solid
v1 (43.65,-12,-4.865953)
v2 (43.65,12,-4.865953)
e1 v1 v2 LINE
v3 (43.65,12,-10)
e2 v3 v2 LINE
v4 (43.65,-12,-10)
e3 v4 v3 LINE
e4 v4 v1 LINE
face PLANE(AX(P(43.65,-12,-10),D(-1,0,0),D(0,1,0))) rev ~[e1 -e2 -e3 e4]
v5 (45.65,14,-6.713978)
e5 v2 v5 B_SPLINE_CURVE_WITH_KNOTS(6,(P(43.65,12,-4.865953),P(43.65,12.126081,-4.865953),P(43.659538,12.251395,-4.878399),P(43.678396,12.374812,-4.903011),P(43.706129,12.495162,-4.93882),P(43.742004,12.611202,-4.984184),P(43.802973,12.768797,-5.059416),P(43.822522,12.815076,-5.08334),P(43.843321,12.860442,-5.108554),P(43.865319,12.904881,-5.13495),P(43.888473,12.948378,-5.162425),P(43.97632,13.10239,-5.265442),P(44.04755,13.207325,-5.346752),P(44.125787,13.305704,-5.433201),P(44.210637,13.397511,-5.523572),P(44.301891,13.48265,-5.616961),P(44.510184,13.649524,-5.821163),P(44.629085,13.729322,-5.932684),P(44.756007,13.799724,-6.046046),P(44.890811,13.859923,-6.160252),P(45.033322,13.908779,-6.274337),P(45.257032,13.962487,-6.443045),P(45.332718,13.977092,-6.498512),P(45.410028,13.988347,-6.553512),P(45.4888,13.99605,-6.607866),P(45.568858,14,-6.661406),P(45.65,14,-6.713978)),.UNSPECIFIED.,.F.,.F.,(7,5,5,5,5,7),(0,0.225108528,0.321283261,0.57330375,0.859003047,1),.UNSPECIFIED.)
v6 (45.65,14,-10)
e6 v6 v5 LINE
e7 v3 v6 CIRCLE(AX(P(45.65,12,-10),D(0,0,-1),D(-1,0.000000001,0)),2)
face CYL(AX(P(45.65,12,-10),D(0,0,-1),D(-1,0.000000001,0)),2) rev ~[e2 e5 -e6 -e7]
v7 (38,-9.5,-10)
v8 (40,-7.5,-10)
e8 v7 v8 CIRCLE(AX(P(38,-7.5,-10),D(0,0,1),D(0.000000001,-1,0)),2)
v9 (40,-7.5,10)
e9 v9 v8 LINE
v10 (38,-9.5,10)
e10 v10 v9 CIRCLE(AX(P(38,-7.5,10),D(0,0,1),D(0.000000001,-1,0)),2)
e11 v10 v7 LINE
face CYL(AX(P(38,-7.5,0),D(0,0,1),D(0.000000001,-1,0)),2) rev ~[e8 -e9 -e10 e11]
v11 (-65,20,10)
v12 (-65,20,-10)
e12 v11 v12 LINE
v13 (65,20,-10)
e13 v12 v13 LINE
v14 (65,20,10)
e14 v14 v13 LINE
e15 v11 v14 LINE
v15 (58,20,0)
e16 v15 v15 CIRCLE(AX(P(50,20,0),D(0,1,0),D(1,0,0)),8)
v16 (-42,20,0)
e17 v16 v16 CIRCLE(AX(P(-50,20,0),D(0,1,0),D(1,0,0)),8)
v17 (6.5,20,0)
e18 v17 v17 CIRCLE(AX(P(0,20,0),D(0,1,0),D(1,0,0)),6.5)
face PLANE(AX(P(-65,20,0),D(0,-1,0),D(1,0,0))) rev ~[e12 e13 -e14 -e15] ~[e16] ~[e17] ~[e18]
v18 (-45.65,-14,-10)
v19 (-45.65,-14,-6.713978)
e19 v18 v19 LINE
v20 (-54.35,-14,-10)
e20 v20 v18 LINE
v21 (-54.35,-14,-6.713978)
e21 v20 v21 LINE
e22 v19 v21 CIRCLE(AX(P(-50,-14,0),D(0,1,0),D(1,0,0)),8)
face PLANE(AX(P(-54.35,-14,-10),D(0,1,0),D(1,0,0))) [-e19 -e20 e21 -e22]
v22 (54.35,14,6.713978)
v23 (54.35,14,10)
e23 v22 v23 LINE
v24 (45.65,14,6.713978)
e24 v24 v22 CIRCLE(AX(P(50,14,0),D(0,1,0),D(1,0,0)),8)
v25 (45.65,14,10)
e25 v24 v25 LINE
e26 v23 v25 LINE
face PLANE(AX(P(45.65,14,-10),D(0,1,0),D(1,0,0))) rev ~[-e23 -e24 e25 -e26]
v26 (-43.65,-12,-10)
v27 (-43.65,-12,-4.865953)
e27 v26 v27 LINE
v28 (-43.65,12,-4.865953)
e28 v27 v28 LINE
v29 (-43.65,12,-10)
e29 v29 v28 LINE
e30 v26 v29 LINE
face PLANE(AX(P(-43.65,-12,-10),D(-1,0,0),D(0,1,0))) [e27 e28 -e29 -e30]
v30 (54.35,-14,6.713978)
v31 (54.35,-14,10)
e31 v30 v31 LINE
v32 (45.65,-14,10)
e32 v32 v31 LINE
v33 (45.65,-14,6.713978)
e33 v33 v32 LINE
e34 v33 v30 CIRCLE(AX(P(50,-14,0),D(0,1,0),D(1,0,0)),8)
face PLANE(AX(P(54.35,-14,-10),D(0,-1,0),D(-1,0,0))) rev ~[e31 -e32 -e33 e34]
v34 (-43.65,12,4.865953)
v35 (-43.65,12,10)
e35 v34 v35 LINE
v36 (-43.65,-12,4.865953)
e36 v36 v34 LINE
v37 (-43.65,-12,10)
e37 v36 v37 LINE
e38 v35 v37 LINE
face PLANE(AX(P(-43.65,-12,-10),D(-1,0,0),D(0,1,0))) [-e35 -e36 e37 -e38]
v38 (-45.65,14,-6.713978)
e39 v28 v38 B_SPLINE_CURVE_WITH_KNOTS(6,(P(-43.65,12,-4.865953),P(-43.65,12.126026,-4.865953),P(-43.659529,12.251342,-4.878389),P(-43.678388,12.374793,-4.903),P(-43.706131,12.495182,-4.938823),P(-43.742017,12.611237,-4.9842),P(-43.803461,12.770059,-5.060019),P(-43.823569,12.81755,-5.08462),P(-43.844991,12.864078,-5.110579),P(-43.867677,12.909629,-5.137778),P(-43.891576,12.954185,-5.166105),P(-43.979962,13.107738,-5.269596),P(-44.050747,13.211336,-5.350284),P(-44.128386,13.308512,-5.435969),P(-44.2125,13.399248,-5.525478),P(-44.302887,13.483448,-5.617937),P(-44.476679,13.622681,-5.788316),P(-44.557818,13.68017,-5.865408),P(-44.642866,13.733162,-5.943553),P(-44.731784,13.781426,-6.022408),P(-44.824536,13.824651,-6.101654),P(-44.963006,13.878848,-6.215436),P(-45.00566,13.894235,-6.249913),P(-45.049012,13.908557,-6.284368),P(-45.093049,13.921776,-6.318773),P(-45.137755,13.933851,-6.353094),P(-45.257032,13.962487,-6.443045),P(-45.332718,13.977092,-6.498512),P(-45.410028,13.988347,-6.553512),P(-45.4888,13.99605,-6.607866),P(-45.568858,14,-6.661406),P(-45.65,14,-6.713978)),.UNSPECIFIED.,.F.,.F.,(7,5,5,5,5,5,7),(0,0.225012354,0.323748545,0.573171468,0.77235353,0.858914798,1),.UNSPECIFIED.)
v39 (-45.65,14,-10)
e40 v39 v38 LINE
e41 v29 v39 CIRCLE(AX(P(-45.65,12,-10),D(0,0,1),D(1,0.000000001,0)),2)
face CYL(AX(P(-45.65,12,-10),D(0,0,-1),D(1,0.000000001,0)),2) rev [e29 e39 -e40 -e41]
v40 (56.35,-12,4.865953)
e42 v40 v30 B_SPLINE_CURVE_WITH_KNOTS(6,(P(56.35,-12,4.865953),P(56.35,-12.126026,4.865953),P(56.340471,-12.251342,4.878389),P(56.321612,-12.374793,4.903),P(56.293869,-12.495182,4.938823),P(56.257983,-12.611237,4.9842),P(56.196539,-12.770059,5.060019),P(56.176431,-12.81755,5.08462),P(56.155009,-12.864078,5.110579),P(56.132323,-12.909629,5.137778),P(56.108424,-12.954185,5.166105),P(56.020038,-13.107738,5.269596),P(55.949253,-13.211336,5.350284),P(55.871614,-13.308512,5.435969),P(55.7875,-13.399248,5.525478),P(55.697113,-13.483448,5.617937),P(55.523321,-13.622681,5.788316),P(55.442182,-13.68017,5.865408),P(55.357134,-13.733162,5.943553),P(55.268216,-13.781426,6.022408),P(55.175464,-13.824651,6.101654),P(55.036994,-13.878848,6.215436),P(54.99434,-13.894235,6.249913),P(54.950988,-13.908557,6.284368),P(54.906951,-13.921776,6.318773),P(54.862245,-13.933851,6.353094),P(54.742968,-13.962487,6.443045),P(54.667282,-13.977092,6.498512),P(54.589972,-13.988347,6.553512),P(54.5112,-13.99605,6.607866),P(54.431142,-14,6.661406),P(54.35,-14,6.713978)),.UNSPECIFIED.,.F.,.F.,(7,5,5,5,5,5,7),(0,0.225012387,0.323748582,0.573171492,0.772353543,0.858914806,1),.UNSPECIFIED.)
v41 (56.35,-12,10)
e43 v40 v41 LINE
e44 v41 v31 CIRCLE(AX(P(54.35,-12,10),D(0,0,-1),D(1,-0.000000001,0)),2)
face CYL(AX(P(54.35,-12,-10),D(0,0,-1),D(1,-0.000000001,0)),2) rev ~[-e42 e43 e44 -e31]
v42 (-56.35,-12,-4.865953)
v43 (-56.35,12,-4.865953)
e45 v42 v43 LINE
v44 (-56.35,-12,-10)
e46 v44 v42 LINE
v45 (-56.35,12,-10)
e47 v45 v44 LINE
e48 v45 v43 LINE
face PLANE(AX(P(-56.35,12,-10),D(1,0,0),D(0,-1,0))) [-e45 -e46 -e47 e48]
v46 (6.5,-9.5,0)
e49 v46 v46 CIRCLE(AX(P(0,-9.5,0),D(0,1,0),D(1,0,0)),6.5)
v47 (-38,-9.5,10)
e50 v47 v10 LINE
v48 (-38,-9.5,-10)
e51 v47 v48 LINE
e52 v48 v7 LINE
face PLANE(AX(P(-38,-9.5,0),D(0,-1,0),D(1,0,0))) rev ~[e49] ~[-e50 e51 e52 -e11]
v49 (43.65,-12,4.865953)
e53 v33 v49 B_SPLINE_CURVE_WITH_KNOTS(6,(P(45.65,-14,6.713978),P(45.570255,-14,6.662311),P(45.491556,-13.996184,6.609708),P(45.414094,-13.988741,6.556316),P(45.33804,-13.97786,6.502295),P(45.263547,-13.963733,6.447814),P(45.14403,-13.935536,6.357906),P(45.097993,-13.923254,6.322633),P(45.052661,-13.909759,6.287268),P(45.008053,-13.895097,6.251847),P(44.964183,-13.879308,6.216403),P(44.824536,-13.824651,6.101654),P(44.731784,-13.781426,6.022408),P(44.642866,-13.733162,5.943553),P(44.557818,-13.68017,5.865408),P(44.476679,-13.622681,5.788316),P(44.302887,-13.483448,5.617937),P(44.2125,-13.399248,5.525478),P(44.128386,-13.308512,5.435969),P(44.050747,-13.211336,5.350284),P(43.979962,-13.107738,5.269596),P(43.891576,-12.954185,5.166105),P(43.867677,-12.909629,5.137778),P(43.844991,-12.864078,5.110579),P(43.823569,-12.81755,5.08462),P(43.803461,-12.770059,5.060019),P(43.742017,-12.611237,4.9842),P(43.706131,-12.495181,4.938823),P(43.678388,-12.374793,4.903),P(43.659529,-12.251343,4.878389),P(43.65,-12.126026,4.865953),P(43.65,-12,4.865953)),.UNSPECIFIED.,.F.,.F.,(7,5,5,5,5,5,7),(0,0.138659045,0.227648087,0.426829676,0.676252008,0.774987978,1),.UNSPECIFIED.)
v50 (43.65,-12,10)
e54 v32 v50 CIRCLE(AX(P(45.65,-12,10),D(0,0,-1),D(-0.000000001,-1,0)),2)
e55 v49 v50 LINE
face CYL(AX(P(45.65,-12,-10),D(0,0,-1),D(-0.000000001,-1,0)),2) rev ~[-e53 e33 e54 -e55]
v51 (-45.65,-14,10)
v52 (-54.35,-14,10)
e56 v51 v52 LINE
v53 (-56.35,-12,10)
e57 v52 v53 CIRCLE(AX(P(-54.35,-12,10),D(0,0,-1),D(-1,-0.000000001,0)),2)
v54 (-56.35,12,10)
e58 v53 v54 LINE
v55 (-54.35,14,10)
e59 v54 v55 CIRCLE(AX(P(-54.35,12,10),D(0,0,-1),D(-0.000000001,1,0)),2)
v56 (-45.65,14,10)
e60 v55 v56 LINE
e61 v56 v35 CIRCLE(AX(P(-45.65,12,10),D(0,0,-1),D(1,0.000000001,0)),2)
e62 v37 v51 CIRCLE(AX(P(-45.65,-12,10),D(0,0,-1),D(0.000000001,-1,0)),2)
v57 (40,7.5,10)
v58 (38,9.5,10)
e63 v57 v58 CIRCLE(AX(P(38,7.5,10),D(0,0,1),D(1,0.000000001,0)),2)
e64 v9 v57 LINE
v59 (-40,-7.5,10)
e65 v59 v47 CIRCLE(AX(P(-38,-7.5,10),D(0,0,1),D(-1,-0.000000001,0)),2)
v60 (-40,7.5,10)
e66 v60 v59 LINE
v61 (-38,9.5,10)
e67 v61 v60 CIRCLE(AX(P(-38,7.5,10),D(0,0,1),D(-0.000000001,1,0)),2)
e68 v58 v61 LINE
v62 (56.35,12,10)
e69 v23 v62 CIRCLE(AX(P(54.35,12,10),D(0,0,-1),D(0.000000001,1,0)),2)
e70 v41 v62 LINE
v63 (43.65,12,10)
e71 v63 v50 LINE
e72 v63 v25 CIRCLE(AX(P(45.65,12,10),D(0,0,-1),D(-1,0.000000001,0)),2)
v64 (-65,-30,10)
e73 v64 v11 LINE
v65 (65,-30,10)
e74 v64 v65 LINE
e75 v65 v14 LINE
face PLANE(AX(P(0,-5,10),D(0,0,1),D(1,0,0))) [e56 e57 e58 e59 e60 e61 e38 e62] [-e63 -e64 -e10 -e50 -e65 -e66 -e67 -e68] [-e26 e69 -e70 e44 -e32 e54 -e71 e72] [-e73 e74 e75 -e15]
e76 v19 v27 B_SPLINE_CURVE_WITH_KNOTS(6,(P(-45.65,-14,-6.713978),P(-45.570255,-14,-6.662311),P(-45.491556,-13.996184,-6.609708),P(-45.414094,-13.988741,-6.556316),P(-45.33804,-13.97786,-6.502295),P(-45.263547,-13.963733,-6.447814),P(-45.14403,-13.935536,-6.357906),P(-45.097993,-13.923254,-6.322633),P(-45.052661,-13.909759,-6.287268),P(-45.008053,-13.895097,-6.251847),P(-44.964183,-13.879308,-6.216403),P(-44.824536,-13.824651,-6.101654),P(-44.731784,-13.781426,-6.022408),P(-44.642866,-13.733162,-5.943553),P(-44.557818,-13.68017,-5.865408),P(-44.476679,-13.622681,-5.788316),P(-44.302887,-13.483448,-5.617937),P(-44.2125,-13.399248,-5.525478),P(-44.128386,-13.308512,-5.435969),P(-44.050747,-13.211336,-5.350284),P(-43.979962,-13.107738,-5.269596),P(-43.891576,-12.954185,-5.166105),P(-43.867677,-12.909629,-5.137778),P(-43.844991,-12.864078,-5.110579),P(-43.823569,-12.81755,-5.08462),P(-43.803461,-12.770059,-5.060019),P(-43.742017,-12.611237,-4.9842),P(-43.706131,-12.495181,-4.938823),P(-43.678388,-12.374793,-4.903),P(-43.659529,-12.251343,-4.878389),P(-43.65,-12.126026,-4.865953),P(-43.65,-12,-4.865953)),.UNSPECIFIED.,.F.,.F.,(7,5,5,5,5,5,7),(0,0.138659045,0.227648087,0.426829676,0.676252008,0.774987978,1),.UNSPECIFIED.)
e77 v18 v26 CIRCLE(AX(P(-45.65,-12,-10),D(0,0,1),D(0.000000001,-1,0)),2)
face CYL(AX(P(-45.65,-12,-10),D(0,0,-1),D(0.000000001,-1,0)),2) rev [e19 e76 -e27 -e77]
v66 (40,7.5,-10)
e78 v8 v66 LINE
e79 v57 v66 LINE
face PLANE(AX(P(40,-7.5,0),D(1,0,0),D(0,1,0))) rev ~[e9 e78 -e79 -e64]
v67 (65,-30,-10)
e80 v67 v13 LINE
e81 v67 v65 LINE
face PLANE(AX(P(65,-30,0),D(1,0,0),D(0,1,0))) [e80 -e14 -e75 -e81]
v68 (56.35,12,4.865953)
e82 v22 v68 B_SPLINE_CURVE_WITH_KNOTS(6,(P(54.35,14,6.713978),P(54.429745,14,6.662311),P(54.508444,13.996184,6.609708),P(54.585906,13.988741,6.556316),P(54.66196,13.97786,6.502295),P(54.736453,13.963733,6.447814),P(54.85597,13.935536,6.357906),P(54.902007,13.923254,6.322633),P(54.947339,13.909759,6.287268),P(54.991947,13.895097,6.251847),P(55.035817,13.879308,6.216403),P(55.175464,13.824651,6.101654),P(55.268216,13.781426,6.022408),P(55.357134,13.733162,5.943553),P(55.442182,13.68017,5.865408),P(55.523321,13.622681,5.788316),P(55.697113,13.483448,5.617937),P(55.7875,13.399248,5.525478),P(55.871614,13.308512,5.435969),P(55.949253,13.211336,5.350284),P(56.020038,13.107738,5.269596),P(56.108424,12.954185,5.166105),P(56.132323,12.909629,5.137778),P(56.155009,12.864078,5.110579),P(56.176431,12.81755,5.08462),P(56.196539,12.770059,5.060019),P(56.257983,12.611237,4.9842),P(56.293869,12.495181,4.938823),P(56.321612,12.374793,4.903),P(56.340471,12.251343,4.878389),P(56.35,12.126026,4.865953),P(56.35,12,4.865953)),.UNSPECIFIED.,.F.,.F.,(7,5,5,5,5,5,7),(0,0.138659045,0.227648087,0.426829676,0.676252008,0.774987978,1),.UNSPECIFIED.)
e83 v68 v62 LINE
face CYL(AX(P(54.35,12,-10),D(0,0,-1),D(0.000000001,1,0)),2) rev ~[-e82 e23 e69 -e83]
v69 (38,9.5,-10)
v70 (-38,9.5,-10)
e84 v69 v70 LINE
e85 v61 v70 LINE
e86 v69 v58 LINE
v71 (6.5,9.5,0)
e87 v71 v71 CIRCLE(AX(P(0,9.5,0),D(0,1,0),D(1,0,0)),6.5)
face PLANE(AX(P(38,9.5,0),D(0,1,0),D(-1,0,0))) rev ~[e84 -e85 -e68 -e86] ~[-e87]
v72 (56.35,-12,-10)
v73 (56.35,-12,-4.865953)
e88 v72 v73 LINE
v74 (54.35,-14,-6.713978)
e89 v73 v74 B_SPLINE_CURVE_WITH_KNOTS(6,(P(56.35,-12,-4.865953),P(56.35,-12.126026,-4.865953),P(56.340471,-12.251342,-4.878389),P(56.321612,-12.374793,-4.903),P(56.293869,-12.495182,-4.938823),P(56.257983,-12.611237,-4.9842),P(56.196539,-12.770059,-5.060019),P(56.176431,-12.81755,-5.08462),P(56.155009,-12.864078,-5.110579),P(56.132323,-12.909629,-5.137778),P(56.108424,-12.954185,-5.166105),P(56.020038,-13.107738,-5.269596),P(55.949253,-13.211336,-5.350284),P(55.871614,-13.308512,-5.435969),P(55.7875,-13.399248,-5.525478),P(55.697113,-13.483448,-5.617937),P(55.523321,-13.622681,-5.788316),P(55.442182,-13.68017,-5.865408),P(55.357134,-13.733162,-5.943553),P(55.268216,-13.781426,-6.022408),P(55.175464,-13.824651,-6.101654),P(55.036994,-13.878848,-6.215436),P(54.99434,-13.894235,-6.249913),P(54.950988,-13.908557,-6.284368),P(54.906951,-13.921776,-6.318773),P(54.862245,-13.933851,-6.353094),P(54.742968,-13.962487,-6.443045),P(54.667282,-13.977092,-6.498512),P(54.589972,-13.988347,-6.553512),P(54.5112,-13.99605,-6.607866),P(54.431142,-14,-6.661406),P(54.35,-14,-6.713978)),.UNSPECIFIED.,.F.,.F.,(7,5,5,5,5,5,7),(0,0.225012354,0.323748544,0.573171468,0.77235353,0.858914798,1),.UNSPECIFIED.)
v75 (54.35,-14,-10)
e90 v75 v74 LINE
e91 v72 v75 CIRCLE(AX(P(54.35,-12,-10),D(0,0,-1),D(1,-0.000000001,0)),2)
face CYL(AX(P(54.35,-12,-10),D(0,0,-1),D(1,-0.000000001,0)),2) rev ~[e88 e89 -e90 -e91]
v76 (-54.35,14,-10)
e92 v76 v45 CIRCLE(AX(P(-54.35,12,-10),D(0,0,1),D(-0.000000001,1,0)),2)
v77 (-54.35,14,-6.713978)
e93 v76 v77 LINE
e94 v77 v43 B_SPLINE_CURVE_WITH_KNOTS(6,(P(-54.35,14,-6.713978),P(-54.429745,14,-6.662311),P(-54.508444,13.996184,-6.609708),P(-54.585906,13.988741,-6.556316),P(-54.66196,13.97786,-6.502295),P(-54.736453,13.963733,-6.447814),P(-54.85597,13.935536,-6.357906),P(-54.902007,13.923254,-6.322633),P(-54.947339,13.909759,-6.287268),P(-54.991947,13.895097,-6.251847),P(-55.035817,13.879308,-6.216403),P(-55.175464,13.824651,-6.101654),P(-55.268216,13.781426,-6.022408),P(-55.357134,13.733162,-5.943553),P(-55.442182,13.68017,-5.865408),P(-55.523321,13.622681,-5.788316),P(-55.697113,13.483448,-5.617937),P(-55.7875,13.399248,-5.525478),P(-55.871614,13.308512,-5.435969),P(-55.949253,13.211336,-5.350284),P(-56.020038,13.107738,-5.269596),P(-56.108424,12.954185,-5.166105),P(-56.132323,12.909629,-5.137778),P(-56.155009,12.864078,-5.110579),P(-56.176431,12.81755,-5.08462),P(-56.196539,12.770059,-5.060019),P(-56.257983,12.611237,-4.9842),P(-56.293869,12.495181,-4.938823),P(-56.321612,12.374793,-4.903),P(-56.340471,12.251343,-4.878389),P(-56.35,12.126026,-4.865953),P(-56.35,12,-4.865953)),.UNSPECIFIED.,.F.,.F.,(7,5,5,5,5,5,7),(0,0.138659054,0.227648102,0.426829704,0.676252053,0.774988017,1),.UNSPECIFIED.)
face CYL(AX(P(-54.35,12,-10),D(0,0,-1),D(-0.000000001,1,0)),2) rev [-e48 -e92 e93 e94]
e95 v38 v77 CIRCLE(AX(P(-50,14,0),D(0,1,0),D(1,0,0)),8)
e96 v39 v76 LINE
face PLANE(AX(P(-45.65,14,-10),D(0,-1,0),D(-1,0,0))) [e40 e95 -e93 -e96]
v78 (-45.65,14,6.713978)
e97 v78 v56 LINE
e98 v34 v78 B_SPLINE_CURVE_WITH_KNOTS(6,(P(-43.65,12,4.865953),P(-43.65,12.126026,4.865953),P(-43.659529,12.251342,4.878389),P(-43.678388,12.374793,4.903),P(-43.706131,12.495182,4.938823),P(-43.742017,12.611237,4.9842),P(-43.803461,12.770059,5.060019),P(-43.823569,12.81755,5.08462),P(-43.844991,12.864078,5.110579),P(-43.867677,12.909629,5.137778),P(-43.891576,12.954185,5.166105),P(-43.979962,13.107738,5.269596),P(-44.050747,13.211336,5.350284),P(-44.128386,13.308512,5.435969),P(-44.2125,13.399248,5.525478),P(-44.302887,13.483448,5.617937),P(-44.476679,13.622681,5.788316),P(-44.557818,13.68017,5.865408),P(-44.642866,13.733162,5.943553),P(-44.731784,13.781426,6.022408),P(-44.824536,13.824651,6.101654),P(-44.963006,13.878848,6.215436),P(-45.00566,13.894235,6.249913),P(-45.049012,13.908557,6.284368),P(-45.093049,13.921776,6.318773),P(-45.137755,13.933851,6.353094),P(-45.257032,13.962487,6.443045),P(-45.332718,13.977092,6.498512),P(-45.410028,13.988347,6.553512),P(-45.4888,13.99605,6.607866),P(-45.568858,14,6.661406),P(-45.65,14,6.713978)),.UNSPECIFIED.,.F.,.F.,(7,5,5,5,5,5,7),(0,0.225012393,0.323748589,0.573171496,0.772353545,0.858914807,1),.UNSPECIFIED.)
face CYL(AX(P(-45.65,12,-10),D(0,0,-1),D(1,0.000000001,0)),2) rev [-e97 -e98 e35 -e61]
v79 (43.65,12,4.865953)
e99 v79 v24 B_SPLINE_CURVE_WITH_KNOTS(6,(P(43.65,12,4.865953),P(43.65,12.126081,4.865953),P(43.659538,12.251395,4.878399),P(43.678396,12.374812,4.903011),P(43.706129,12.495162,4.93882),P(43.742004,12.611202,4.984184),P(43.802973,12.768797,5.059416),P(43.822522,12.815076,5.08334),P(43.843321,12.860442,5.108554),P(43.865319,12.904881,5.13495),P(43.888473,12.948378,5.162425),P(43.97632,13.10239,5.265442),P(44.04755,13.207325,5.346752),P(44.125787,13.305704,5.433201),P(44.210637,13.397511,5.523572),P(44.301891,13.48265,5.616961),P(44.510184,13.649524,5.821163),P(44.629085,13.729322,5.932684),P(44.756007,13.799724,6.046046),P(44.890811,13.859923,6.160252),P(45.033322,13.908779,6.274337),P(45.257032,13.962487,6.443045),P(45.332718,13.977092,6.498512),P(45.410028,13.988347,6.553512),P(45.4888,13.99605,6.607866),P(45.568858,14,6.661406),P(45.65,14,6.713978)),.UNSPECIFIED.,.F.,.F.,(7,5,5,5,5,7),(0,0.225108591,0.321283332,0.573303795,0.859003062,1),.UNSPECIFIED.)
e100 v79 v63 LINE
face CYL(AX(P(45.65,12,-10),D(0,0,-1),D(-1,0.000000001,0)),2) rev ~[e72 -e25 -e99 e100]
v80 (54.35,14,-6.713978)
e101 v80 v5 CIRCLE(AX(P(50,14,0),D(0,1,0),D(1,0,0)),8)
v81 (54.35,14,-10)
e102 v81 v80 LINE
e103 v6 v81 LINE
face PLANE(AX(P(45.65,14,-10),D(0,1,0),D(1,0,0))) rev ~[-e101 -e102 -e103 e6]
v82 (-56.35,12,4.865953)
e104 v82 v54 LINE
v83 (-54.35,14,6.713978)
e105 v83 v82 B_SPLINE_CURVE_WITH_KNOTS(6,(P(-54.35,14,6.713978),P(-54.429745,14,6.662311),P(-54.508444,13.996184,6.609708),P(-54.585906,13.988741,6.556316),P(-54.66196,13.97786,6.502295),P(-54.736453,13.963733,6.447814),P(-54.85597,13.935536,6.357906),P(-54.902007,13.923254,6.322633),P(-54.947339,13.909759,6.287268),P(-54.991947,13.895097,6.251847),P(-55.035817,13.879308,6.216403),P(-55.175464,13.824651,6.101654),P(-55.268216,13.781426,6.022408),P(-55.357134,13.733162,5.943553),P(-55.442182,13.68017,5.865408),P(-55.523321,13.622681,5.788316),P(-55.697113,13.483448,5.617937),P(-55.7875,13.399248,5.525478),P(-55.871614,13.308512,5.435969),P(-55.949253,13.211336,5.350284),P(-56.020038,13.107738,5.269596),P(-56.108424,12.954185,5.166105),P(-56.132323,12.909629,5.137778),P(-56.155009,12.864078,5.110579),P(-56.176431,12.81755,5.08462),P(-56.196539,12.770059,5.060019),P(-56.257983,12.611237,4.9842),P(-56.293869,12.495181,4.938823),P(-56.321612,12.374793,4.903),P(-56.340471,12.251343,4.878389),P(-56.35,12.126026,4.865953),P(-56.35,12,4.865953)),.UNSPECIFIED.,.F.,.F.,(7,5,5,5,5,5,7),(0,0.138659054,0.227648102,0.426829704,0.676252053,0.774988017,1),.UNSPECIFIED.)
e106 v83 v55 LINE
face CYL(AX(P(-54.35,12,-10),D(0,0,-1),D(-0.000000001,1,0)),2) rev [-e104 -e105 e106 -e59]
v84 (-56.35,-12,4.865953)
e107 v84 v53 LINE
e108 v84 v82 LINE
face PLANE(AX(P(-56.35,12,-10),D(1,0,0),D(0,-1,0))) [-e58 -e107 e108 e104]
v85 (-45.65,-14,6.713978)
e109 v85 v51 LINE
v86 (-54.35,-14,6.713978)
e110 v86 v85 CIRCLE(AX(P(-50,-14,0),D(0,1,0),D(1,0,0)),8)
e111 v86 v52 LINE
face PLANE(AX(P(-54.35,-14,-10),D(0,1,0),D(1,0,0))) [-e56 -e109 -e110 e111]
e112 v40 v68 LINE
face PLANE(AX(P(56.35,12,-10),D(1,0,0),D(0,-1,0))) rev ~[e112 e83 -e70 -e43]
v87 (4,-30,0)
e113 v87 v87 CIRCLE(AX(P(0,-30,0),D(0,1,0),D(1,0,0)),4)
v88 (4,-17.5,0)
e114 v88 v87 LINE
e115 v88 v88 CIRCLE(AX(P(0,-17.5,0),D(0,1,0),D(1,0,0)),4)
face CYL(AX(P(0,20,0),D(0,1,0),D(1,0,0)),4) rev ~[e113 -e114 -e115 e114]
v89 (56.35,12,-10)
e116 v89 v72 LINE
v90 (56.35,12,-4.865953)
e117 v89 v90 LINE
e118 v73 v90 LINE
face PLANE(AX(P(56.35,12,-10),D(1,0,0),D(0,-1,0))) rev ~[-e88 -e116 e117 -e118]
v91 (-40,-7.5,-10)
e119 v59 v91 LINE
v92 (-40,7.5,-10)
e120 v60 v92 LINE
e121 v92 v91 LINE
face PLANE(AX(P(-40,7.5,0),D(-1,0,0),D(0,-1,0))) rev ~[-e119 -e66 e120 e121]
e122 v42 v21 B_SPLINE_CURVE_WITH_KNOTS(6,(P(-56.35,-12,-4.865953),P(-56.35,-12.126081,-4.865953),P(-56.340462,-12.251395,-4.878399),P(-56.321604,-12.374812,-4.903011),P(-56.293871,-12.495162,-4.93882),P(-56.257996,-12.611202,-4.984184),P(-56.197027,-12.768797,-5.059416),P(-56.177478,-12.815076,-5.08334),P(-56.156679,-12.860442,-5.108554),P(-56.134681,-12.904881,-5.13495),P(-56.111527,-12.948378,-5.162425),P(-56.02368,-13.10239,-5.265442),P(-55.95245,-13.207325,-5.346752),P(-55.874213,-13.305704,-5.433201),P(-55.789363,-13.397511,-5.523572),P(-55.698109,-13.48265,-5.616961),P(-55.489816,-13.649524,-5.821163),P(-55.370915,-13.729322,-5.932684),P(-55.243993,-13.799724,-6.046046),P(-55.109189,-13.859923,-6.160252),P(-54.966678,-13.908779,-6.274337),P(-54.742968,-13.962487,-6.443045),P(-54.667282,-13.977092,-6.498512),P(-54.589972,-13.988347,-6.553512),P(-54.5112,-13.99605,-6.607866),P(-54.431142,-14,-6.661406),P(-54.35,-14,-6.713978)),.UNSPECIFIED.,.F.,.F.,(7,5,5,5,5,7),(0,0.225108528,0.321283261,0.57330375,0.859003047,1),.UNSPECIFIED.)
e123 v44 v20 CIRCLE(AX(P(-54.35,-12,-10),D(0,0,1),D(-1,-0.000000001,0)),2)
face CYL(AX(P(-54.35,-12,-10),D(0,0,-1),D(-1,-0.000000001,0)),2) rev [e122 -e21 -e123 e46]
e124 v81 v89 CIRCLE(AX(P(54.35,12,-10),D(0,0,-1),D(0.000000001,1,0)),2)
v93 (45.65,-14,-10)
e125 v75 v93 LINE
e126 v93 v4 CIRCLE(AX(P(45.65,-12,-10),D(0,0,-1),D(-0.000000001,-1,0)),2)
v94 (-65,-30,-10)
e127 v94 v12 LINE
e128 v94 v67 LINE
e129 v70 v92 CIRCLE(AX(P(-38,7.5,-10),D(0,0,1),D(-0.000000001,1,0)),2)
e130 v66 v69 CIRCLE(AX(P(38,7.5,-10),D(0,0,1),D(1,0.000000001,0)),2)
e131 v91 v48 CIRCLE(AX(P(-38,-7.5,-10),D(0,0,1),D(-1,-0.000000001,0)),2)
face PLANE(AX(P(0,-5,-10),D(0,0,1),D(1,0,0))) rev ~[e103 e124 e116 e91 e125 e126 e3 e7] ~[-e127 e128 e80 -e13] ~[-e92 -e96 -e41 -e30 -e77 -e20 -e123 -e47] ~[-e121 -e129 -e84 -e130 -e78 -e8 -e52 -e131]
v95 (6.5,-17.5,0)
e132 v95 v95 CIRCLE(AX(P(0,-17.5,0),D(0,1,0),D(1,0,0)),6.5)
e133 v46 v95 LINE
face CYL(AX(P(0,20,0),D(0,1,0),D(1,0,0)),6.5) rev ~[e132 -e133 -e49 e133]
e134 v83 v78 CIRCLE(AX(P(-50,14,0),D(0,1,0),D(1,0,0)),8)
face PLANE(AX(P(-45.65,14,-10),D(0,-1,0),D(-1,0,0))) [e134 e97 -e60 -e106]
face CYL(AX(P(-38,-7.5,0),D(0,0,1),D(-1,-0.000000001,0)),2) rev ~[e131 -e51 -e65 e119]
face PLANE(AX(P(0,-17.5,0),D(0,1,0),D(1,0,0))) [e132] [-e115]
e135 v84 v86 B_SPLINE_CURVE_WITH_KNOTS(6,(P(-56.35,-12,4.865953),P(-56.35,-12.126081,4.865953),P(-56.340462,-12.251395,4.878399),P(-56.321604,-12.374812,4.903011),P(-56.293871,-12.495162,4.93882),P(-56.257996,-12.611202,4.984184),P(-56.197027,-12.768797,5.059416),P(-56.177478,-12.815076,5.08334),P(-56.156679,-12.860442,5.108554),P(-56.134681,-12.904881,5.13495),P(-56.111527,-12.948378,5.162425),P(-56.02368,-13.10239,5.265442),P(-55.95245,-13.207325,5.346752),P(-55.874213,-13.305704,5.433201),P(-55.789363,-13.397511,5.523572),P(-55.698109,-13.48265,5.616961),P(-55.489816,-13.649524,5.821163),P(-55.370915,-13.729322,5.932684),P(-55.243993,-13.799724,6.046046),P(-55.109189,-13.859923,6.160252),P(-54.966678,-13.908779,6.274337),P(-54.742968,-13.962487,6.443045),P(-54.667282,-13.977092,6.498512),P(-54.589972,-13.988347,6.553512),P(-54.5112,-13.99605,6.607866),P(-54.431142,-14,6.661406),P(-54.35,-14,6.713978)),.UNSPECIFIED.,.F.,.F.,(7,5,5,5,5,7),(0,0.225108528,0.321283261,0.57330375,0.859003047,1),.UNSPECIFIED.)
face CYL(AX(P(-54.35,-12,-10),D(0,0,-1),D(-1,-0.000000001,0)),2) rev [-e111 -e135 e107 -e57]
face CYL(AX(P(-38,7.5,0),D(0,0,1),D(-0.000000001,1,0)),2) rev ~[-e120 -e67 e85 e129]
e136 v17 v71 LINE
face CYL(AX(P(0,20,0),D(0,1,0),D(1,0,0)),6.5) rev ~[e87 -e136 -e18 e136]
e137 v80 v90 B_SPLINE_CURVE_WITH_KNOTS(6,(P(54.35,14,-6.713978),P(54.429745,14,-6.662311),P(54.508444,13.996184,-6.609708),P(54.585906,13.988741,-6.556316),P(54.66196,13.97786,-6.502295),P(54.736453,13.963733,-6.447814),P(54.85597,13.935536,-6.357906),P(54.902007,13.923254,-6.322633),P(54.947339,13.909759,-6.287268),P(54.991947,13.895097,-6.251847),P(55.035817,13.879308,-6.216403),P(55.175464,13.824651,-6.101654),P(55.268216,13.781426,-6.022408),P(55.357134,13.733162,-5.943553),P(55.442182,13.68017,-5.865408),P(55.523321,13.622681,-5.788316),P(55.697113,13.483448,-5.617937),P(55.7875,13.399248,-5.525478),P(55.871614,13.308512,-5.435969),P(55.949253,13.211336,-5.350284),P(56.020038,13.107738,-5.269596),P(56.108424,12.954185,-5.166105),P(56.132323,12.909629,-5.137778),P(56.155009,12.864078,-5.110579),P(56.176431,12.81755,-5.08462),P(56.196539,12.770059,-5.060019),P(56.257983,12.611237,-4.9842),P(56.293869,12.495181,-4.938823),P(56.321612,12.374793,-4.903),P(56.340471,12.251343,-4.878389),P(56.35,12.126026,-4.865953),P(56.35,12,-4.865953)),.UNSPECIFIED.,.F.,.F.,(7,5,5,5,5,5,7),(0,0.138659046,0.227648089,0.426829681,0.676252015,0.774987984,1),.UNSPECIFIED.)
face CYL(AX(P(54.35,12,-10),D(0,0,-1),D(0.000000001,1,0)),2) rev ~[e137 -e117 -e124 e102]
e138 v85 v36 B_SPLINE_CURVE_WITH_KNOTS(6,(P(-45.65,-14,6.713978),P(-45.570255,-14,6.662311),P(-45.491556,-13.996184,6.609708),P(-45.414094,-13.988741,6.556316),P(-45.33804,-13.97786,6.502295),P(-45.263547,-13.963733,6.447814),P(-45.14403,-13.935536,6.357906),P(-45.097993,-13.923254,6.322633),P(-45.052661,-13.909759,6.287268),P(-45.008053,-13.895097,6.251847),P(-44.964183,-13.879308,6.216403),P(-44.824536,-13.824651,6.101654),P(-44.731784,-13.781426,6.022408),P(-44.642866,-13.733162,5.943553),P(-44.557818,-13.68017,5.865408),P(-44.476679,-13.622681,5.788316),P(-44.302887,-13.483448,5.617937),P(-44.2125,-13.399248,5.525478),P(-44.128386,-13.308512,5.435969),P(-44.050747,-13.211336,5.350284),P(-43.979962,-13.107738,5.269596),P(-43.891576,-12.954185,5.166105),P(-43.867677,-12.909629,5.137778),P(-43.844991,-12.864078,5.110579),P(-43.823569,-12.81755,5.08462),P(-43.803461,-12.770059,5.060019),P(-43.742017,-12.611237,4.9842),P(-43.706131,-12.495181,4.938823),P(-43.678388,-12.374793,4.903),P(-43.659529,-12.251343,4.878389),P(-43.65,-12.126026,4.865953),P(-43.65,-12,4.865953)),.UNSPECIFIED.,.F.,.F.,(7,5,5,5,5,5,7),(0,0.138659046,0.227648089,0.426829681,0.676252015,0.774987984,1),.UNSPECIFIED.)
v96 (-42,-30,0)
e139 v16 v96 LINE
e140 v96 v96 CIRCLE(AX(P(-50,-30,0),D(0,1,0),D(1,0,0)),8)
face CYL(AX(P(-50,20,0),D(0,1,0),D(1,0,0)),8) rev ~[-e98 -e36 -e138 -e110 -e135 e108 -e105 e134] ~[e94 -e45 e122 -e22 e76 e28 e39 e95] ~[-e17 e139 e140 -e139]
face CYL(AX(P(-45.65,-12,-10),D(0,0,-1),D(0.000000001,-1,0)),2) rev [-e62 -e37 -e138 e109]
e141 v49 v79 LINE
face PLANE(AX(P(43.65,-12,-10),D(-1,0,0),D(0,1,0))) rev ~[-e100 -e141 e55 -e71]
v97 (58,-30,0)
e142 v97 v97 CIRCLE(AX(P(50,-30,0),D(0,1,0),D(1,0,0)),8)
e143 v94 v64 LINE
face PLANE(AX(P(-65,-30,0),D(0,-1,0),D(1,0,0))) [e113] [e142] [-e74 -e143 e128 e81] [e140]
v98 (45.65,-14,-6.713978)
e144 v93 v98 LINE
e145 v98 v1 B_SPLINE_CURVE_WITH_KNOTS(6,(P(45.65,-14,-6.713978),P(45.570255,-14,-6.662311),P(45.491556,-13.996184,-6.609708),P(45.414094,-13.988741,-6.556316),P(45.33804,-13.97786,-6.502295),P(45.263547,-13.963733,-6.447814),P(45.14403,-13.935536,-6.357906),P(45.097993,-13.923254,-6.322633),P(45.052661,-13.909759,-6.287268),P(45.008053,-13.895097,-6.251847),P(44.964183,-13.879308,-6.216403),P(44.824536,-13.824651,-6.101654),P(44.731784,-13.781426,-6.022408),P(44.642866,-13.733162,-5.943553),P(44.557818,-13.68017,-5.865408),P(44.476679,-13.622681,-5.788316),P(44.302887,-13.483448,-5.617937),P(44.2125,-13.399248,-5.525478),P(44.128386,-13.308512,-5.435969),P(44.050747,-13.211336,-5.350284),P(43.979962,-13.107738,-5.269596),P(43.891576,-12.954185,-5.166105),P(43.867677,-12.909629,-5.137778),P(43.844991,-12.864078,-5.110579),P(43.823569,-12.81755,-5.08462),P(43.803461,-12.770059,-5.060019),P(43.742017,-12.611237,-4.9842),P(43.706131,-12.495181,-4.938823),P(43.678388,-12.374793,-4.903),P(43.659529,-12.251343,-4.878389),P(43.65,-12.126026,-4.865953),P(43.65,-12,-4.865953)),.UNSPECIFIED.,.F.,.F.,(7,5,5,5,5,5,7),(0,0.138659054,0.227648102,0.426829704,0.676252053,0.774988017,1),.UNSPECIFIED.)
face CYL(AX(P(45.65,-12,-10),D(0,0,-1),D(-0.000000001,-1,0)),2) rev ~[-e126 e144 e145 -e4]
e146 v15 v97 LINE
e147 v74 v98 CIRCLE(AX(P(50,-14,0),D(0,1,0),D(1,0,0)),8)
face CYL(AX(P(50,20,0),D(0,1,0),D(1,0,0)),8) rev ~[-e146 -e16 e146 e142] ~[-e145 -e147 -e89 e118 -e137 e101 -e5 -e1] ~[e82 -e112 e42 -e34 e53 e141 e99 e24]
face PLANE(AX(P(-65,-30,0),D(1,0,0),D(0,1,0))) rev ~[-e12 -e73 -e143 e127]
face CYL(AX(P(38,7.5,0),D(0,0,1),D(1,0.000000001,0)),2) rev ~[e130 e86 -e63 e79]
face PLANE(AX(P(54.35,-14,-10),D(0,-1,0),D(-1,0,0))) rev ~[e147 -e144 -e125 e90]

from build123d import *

# Parameters (mm, degrees)
SKETCH1_W                = 130
SKETCH1_H                = 50
BOSS_EXTRUDE1_DEPTH      = 10
BOSS_EXTRUDE1_DEPTH_BACK = 10
SKETCH2_R                = 8
CUT_EXTRUDE1_DEPTH       = 1
CUT_EXTRUDE1_DEPTH_BACK  = 51
CUT_EXTRUDE2_DEPTH       = 23
SKETCH5_R                = 4
CUT_EXTRUDE3_DEPTH       = 1.0000001
CUT_EXTRUDE3_DEPTH_BACK  = 51.0000001
SKETCH6_R                = 6.5
CUT_EXTRUDE4_DEPTH       = 37.5


with BuildPart() as part:
    # Sketch1 → Boss-Extrude1 (new body, two sides)
    with BuildSketch(Plane.XY) as boss_extrude1_sk:
        with Locations((0, -5)):
            Rectangle(SKETCH1_W, SKETCH1_H)
        with BuildLine():
            Line((38, 9.5), (-38, 9.5))
            ThreePointArc((-38, 9.5), (-39.414213562, 8.914213562), (-40, 7.5))
            Line((-40, 7.5), (-40, -7.5))
            ThreePointArc((-40, -7.5), (-39.414213562, -8.914213562), (-38, -9.5))
            Line((-38, -9.5), (38, -9.5))
            ThreePointArc((38, -9.5), (39.414213562, -8.914213562), (40, -7.5))
            Line((40, -7.5), (40, 7.5))
            ThreePointArc((40, 7.5), (39.414213562, 8.914213562), (38, 9.5))
        make_face(mode=Mode.SUBTRACT)
    extrude(amount=BOSS_EXTRUDE1_DEPTH)
    extrude(boss_extrude1_sk.sketch, amount=-BOSS_EXTRUDE1_DEPTH_BACK)

    # Sketch2 → Cut-Extrude1 (cut, two sides)
    with BuildSketch(Plane(origin=(0, 20, 0), x_dir=(1, 0, 0), z_dir=(0, 1, 0))) as cut_extrude1_sk:
        with Locations((-50, 0)):
            Circle(SKETCH2_R)
        with Locations((50, 0)):
            Circle(SKETCH2_R)
    extrude(amount=CUT_EXTRUDE1_DEPTH, mode=Mode.SUBTRACT)
    extrude(cut_extrude1_sk.sketch, amount=-CUT_EXTRUDE1_DEPTH_BACK, mode=Mode.SUBTRACT)

    # Sketch4 → Cut-Extrude2 (cut)
    with BuildSketch(Plane(origin=(0, 0, -10), x_dir=(-1, 0, 0), z_dir=(0, 0, -1))):
        with BuildLine():
            Line((-45.65, 14), (-54.35, 14))
            ThreePointArc((-54.35, 14), (-55.764213562, 13.414213562), (-56.35, 12))
            Line((-56.35, 12), (-56.35, -12))
            ThreePointArc((-56.35, -12), (-55.764213562, -13.414213562), (-54.35, -14))
            Line((-54.35, -14), (-45.65, -14))
            ThreePointArc((-45.65, -14), (-44.235786438, -13.414213562), (-43.65, -12))
            Line((-43.65, -12), (-43.65, 12))
            ThreePointArc((-43.65, 12), (-44.235786438, 13.414213562), (-45.65, 14))
        make_face()
        with BuildLine():
            Line((56.35, 12), (56.35, -12))
            ThreePointArc((56.35, -12), (55.764213562, -13.414213562), (54.35, -14))
            Line((54.35, -14), (45.65, -14))
            ThreePointArc((45.65, -14), (44.235786438, -13.414213562), (43.65, -12))
            Line((43.65, -12), (43.65, 12))
            ThreePointArc((43.65, 12), (44.235786438, 13.414213562), (45.65, 14))
            Line((45.65, 14), (54.35, 14))
            ThreePointArc((54.35, 14), (55.764213562, 13.414213562), (56.35, 12))
        make_face()
    extrude(amount=-CUT_EXTRUDE2_DEPTH, mode=Mode.SUBTRACT)

    # Sketch5 → Cut-Extrude3 (cut, two sides)
    with BuildSketch(Plane(origin=(0, 20, 0), x_dir=(1, 0, 0), z_dir=(0, 1, 0))) as cut_extrude3_sk:
        Circle(SKETCH5_R)
    extrude(amount=CUT_EXTRUDE3_DEPTH, mode=Mode.SUBTRACT)
    extrude(cut_extrude3_sk.sketch, amount=-CUT_EXTRUDE3_DEPTH_BACK, mode=Mode.SUBTRACT)

    # Sketch6 → Cut-Extrude4 (cut)
    with BuildSketch(Plane(origin=(0, 20, 0), x_dir=(1, 0, 0), z_dir=(0, 1, 0))):
        Circle(SKETCH6_R)
    extrude(amount=-CUT_EXTRUDE4_DEPTH, mode=Mode.SUBTRACT)


solid = part.part
